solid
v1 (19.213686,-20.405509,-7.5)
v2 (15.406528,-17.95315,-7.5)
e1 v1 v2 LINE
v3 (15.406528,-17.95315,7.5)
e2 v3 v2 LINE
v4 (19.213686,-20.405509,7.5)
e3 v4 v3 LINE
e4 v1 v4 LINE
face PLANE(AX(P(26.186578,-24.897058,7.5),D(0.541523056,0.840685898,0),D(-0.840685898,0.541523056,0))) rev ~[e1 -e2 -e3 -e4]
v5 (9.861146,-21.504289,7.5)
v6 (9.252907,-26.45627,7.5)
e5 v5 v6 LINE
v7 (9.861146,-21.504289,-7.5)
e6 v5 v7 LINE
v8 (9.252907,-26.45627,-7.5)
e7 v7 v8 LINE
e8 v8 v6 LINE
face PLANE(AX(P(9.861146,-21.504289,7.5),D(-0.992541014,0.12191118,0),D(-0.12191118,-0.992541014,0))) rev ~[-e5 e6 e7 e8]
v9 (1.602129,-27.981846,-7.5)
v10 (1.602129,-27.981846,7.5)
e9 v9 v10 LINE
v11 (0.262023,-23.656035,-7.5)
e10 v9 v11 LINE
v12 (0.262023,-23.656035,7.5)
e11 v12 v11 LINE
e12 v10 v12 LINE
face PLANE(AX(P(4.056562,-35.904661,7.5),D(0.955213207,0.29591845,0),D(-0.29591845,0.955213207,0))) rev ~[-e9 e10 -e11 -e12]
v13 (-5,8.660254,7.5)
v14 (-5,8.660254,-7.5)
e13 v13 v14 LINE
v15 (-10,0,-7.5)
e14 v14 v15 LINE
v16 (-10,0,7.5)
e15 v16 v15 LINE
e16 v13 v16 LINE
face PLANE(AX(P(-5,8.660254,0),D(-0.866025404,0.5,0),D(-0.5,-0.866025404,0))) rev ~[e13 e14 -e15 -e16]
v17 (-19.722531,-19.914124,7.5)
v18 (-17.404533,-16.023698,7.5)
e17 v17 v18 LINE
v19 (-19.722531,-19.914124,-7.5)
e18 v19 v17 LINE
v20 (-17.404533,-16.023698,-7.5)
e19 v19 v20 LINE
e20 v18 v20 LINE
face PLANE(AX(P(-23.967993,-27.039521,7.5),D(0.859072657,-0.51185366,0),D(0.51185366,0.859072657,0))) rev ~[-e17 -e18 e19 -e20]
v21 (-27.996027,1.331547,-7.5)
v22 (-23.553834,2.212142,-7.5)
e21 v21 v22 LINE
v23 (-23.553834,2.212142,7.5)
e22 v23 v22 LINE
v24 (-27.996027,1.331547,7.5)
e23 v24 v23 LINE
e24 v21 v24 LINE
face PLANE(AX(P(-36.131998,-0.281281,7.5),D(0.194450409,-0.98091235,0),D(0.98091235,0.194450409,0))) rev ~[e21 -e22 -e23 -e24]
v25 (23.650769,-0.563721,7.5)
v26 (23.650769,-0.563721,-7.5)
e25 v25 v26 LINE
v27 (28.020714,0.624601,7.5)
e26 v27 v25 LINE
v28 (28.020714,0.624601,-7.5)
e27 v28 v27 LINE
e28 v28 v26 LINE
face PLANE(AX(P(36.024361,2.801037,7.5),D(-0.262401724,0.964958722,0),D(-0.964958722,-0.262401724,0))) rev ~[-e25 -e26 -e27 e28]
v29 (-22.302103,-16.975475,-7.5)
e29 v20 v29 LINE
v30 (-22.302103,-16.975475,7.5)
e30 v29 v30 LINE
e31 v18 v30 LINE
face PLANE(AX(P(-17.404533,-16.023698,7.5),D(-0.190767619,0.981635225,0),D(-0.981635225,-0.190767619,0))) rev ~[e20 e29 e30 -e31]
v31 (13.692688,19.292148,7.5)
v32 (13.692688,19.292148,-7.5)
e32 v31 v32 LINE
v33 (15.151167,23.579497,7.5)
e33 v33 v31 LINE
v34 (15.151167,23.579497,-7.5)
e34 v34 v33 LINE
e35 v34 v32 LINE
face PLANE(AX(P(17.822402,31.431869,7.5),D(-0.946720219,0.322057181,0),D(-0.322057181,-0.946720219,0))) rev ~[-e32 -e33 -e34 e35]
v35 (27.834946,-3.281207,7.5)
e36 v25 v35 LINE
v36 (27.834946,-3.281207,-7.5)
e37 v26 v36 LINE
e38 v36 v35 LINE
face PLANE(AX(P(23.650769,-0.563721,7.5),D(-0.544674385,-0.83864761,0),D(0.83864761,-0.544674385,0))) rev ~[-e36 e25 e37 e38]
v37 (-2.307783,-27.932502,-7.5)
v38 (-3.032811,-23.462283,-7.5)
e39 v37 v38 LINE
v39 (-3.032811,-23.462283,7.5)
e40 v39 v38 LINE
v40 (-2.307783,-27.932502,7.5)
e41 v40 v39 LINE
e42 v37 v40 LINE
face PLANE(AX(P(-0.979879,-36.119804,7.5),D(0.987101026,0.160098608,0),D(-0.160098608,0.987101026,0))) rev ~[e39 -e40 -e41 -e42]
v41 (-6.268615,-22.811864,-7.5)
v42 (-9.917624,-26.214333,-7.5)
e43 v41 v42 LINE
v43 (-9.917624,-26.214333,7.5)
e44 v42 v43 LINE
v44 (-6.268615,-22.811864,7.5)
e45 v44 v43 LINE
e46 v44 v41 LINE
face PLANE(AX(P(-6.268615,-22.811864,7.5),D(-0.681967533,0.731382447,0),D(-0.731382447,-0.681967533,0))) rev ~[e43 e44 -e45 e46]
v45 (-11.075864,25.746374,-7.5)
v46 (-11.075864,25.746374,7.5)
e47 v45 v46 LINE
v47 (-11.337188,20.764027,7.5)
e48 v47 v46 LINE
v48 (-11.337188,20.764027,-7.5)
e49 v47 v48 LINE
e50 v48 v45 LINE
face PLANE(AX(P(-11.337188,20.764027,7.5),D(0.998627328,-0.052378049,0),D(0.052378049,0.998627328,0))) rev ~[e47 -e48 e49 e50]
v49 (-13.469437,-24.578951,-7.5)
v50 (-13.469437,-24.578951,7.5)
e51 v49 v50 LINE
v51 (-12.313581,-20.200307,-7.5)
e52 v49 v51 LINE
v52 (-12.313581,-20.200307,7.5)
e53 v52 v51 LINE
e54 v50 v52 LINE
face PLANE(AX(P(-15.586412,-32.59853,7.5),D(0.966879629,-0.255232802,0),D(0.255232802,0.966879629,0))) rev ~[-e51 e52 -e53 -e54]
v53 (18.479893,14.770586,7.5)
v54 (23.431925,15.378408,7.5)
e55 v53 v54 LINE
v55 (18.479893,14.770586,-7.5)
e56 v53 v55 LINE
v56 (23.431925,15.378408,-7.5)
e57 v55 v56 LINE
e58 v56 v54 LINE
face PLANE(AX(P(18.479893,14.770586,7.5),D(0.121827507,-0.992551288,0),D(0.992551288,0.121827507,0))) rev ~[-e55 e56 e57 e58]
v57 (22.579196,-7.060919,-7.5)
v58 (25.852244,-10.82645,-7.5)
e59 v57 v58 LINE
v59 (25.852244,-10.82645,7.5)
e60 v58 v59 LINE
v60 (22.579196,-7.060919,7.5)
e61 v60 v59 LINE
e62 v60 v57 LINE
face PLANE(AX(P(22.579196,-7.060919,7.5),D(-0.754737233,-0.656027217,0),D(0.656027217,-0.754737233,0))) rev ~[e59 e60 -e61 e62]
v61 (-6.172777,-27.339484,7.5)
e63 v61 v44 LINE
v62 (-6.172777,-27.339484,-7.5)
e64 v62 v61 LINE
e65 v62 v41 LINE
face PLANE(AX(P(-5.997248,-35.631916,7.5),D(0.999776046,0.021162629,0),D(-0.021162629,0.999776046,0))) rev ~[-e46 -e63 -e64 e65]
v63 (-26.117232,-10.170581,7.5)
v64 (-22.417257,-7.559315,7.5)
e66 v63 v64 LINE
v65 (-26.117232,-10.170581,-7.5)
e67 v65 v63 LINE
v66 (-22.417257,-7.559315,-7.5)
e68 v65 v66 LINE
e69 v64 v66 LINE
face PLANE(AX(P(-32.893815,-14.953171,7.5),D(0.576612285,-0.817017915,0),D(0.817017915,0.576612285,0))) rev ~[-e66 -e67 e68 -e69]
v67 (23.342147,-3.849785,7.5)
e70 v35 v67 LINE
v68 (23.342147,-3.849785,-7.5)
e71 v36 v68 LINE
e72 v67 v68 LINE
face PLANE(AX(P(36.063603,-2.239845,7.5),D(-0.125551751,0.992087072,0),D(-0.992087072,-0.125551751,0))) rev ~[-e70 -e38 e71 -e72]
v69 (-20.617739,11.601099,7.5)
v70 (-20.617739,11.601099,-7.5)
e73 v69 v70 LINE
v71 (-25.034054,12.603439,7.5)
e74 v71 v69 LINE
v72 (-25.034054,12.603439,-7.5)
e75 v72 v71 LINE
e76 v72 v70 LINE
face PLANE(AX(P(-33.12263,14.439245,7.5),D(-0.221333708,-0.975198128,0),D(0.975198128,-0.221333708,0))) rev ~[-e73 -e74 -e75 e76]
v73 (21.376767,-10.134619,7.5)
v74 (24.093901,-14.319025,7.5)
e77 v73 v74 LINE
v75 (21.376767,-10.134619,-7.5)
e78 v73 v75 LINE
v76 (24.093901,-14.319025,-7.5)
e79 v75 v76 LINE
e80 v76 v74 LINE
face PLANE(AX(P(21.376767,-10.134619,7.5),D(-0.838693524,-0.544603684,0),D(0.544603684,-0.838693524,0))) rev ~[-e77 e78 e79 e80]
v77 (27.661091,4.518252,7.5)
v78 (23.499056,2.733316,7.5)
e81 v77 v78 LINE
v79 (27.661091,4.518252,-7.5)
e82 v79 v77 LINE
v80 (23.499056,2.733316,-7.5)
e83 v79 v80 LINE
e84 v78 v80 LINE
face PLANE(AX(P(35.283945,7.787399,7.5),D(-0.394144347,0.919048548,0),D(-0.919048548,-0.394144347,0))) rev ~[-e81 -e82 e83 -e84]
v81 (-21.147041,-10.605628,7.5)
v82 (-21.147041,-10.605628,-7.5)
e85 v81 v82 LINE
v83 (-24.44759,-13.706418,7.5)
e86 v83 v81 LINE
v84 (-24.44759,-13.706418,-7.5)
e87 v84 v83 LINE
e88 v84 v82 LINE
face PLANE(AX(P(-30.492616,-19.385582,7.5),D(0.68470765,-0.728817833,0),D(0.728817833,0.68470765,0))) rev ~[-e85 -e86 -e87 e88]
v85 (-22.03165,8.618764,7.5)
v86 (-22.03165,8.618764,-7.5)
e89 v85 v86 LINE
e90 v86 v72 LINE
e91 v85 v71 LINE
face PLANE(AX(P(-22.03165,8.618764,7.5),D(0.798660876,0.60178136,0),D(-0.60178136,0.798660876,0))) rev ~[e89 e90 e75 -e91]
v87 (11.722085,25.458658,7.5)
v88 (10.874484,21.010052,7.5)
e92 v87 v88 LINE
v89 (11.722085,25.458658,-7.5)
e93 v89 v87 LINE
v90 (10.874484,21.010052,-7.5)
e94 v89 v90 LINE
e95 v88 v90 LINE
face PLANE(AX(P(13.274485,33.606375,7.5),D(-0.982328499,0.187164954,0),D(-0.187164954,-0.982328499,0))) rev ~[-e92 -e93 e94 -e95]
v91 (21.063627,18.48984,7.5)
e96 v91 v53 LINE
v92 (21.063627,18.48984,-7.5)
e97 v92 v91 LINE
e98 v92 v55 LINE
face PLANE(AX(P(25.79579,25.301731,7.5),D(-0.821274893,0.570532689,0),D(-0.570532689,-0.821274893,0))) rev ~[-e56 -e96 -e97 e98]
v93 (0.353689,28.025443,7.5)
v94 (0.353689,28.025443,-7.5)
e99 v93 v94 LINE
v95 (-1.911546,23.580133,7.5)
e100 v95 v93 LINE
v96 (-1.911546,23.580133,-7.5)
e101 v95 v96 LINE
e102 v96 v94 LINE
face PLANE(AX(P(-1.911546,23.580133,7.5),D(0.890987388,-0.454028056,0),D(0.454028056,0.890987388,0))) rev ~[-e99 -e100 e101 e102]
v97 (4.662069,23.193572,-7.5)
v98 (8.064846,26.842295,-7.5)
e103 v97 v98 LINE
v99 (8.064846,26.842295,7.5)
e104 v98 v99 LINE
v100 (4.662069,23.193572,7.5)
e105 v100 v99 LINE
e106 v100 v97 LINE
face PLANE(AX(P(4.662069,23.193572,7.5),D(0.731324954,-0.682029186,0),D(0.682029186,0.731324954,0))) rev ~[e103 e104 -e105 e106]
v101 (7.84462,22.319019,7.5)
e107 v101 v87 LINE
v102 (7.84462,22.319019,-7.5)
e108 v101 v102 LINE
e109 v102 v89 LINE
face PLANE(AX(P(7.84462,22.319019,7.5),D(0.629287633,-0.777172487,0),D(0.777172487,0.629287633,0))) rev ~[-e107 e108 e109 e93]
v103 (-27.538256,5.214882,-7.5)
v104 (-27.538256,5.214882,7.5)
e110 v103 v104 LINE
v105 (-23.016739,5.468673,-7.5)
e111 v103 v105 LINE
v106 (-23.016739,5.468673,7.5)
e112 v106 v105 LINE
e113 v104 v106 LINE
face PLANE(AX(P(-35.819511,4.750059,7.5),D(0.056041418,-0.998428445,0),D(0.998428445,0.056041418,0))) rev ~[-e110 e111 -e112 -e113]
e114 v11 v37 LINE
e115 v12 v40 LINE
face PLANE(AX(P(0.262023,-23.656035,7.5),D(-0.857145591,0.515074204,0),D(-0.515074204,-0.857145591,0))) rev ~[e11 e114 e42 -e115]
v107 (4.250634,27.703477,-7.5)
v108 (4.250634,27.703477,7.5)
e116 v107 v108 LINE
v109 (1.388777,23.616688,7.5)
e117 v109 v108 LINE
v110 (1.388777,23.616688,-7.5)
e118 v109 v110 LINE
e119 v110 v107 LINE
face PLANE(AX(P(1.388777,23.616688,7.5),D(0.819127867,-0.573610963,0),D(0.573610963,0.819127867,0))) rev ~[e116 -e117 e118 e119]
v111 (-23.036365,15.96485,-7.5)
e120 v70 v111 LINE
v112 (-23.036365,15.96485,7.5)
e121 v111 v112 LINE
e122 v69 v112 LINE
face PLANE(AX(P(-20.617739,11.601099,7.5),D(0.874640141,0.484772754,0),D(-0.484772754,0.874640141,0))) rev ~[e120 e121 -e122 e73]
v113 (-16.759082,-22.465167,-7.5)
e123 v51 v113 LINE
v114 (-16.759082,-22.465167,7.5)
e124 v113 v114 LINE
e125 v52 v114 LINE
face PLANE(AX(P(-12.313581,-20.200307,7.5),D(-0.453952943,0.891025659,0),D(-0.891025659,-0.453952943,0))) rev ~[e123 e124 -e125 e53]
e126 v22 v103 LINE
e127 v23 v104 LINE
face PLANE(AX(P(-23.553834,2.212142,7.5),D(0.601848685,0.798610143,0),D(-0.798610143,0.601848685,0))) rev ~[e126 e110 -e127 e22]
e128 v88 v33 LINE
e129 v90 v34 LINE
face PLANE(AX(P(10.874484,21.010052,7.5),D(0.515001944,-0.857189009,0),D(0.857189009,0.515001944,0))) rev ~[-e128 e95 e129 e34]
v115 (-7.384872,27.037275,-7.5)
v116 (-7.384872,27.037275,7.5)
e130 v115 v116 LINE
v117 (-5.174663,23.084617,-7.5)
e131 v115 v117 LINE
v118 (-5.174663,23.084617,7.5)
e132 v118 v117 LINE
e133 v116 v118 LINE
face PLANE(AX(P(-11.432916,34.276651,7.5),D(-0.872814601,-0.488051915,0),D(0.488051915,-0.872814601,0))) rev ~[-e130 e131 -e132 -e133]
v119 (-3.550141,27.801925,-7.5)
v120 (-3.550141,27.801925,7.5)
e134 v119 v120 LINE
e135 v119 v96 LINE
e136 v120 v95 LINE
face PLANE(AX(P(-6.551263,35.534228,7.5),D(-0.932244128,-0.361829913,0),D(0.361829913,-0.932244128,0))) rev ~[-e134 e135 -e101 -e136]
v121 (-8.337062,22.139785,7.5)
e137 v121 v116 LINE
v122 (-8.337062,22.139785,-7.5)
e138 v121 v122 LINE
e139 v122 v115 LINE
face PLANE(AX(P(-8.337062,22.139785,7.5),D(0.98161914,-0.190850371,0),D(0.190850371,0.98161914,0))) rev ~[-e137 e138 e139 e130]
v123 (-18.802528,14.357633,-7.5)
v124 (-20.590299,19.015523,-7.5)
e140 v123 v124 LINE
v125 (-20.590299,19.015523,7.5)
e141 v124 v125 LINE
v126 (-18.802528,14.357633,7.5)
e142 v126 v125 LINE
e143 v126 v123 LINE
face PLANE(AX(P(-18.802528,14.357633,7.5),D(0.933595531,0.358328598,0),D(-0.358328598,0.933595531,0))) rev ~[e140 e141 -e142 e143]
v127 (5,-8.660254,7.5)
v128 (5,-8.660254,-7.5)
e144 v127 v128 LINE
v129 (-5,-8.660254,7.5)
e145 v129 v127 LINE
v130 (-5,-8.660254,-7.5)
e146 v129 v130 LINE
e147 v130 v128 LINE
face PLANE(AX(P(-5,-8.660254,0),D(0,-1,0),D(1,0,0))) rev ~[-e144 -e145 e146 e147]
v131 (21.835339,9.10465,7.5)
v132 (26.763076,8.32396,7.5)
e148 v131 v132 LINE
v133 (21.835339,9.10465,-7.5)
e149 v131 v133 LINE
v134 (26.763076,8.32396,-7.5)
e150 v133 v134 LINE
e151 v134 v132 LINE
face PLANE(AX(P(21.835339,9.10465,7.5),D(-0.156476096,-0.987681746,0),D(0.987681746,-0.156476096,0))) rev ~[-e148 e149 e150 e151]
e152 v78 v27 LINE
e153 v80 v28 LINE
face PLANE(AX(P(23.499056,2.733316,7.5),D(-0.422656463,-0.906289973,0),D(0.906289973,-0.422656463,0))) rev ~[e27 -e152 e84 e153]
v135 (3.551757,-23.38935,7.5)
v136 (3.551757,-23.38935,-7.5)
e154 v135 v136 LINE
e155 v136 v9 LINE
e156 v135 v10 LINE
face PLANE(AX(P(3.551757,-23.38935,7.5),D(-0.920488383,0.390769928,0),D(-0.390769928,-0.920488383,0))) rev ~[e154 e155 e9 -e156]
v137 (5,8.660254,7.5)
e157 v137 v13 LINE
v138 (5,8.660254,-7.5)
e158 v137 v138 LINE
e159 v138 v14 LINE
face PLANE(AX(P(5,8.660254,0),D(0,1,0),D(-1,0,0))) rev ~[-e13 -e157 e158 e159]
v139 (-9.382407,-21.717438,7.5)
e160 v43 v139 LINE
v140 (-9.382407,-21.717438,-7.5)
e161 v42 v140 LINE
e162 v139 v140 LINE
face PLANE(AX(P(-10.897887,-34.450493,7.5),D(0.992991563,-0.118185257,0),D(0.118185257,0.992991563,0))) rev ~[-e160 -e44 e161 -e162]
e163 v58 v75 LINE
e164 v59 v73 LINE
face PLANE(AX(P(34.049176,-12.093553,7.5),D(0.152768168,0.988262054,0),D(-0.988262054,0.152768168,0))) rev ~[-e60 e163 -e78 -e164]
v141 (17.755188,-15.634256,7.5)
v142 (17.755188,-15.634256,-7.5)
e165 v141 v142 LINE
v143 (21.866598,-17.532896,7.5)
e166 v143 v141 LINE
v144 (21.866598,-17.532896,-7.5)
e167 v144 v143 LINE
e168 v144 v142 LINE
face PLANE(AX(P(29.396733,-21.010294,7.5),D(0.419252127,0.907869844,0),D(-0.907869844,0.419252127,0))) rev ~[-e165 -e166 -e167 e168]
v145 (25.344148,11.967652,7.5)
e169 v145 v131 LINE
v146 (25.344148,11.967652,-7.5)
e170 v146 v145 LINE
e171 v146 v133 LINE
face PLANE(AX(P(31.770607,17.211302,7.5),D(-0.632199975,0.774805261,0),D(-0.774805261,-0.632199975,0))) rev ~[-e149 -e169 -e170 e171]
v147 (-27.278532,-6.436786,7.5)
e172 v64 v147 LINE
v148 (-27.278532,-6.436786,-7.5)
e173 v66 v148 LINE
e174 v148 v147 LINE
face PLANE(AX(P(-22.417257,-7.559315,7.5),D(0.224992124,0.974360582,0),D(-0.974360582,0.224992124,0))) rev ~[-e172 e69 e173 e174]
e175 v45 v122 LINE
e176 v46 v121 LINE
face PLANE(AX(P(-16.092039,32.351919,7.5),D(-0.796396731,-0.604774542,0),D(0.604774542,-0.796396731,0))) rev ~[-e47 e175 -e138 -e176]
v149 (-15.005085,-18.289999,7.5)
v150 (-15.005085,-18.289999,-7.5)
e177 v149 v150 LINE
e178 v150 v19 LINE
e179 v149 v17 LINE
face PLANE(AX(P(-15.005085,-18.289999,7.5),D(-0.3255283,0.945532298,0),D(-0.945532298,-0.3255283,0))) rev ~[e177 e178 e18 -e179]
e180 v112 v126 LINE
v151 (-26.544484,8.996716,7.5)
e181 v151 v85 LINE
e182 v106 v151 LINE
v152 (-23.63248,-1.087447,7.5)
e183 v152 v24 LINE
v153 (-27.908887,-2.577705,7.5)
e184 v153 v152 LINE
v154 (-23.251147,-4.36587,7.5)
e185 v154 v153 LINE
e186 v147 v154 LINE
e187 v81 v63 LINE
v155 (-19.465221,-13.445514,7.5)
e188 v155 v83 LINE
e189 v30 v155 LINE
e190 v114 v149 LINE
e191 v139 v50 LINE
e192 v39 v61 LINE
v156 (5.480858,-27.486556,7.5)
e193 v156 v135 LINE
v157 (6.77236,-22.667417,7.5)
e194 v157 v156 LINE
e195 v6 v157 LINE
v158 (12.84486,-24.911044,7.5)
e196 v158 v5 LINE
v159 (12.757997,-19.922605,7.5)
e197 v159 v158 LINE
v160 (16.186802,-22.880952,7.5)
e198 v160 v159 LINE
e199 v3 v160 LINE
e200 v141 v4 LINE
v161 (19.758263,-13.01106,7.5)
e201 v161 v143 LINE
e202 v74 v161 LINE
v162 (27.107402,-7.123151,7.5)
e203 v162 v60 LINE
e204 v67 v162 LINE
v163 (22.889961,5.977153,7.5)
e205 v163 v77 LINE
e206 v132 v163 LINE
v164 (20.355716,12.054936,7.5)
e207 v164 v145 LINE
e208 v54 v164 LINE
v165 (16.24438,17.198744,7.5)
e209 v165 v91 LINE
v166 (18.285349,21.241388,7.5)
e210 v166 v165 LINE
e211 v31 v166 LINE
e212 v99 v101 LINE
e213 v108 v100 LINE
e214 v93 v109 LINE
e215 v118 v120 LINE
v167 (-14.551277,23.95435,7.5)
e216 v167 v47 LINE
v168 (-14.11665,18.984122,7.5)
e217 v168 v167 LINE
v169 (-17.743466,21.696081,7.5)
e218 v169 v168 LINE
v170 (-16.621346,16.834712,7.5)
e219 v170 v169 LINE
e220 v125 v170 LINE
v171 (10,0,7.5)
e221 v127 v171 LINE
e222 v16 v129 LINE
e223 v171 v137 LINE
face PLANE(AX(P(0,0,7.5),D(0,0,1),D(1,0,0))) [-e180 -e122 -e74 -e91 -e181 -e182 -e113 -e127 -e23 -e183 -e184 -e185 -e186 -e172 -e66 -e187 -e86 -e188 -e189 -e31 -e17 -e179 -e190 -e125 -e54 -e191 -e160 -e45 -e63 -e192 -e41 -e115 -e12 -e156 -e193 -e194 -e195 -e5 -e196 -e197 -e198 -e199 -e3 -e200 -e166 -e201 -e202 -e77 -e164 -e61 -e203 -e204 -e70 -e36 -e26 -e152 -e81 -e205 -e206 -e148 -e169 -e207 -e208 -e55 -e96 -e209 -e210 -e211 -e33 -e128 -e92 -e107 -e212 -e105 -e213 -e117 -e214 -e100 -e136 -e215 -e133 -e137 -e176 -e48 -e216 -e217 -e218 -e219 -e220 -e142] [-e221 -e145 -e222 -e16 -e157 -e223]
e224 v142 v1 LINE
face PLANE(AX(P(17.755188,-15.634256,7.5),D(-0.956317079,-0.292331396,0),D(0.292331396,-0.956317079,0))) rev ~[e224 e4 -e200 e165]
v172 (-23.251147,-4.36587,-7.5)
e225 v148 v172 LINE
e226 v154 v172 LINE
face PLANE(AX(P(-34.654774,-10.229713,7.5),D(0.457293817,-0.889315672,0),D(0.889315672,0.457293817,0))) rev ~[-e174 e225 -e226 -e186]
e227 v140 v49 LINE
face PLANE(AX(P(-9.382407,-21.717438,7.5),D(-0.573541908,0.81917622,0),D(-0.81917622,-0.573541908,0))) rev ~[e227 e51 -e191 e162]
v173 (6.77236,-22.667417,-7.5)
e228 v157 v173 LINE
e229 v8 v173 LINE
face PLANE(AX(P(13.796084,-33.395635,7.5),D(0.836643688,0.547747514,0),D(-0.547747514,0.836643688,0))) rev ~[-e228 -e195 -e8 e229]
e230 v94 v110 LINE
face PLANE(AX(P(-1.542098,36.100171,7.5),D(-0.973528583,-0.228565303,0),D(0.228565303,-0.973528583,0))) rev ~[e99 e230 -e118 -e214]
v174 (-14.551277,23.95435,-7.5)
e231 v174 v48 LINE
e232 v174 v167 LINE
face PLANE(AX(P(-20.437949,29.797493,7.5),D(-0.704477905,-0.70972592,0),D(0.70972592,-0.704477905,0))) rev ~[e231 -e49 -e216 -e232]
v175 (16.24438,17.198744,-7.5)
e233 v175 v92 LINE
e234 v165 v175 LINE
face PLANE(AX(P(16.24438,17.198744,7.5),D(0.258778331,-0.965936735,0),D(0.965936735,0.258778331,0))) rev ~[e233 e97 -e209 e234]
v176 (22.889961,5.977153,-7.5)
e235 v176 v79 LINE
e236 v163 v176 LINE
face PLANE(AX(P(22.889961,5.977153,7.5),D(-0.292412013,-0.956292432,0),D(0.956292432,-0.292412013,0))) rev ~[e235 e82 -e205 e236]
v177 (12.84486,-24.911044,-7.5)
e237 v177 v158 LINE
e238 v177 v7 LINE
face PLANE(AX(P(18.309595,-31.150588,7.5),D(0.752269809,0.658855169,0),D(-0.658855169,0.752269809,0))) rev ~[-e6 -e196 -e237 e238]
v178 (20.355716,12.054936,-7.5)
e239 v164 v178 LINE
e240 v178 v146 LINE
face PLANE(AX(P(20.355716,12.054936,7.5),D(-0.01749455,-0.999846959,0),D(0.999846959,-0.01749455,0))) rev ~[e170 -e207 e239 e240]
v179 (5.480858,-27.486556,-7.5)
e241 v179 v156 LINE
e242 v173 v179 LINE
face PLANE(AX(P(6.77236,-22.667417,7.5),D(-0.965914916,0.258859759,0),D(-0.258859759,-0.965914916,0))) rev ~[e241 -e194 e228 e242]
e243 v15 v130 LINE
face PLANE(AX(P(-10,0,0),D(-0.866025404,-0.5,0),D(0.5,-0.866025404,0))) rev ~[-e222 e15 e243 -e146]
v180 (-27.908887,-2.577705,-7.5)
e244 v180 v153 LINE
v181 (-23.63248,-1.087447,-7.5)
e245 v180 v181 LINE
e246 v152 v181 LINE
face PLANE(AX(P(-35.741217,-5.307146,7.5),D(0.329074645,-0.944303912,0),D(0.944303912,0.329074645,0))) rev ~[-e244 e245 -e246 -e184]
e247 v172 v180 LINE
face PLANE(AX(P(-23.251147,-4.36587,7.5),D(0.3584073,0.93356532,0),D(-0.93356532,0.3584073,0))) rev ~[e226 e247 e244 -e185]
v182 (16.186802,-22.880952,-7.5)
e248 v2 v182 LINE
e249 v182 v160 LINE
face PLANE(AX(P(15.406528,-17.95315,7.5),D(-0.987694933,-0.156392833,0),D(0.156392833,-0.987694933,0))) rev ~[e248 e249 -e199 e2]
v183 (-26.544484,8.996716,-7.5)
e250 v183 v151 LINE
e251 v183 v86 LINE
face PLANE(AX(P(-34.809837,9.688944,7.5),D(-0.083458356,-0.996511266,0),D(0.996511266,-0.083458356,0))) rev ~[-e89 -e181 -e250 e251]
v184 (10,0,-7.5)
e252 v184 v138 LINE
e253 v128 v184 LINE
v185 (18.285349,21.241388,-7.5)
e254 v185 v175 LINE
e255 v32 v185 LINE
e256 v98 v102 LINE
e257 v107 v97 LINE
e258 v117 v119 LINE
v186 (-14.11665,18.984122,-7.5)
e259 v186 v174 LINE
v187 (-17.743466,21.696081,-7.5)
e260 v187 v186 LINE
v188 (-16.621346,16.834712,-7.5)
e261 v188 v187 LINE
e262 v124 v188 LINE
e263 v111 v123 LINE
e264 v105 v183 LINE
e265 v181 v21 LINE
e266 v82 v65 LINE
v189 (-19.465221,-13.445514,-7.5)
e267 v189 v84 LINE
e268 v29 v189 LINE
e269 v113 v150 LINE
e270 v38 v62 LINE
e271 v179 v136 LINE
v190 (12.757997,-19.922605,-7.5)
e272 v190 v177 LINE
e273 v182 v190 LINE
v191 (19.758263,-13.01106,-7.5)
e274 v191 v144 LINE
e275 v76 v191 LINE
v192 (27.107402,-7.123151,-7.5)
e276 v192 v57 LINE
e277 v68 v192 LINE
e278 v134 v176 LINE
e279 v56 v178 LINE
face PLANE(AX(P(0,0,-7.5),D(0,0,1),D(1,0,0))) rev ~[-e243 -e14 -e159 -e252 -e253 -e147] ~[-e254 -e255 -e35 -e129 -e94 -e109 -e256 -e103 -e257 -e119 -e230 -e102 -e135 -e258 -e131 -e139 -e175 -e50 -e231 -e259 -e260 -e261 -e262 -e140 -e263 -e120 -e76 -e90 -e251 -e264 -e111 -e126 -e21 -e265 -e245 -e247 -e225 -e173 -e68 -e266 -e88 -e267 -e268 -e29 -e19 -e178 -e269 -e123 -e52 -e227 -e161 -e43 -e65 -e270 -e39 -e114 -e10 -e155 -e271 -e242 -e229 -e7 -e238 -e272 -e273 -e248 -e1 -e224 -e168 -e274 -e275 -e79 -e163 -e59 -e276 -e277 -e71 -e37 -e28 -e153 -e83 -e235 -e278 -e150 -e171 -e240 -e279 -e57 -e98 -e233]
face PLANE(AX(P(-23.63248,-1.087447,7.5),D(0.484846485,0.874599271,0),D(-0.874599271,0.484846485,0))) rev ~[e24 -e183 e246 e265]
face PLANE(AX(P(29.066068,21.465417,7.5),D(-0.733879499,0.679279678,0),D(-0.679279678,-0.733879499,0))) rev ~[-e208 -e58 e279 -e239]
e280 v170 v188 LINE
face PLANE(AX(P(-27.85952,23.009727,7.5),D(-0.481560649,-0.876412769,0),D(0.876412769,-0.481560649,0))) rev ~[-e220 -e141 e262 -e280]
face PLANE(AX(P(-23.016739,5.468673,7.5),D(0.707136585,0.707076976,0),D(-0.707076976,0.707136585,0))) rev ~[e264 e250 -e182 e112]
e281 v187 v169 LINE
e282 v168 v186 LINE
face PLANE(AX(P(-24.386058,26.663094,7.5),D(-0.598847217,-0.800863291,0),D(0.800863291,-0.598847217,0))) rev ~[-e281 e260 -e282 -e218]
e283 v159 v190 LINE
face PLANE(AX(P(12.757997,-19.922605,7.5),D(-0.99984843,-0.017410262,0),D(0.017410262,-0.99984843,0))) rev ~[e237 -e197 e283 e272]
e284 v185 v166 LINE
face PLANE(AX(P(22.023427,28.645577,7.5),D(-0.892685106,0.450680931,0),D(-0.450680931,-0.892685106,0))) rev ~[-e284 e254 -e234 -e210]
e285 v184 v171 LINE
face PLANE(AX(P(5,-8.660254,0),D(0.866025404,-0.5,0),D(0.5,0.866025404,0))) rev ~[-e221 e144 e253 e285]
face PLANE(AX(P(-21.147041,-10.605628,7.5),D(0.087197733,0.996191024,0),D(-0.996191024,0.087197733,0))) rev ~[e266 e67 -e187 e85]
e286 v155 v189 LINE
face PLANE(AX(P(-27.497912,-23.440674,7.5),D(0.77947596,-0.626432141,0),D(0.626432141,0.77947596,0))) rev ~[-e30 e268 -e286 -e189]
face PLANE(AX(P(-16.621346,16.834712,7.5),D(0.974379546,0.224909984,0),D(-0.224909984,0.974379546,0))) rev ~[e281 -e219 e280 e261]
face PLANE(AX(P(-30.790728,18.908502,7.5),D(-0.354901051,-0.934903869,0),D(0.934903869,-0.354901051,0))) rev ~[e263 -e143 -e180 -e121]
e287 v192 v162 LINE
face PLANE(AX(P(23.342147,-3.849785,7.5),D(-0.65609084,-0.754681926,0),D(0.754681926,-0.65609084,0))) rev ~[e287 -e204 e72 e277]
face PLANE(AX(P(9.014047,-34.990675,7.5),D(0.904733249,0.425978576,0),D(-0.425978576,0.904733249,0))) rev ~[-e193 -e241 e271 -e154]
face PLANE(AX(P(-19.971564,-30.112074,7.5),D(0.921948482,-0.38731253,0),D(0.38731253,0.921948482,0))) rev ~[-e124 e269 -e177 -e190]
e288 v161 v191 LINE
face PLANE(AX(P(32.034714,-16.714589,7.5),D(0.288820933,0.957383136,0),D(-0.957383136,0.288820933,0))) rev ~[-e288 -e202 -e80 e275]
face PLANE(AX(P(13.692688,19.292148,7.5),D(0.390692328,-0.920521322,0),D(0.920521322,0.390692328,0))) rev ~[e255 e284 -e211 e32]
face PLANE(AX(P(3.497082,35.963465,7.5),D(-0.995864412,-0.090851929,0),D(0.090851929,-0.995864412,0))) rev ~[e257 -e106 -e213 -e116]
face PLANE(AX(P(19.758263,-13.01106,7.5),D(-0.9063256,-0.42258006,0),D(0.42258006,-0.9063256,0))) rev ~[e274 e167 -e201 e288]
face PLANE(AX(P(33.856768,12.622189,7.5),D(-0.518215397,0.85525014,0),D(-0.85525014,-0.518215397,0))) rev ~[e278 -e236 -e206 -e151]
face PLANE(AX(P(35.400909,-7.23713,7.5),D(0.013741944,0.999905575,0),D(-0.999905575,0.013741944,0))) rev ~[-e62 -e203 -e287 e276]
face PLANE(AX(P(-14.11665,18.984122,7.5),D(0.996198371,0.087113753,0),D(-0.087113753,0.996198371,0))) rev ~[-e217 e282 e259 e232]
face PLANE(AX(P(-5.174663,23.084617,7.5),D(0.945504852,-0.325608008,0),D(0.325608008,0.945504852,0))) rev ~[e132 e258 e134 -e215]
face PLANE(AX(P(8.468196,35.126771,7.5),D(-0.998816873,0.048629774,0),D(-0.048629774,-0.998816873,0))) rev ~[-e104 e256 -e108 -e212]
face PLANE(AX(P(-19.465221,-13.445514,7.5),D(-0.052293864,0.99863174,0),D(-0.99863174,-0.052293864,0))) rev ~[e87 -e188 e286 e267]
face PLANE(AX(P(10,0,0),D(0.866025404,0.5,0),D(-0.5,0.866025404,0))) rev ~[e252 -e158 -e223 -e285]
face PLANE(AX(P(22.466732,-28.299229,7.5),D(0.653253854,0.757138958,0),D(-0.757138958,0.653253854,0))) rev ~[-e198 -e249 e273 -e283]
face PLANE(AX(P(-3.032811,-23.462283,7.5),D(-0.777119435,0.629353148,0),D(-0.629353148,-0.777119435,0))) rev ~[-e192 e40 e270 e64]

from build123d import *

# Parameters (mm, degrees)
SCHIZZO1_R                   = 34.641016151
ESTRUSIONE_ESTRUSIONE1_DEPTH = 7.5
TAGLIO_ESTRUSIONE1_DEPTH     = 52.23475383
RIPETIZIONECIRCOLARE1_COUNT  = 45


with BuildPart() as part:
    # Schizzo1 → Estrusione-Estrusione1 (new, symmetric)
    with BuildSketch(Plane.XY):
        Circle(SCHIZZO1_R)
        Polygon((10, 0), (5, 8.660254038), (-5, 8.660254038), (-10, 0), (-5, -8.660254038), (5, -8.660254038), align=None, mode=Mode.SUBTRACT)
    extrude(amount=ESTRUSIONE_ESTRUSIONE1_DEPTH, both=True)

    # Schizzo2 → Taglio-Estrusione1 (cut, through all)
    with BuildSketch(Plane.XY.offset(7.5)):
        Polygon((-6.551263351, 35.534227752), (-1.911546114, 23.580132753), (5.348246738, 37.826793916), align=None)
    taglio_estrusione1 = extrude(amount=-TAGLIO_ESTRUSIONE1_DEPTH, mode=Mode.SUBTRACT)

    # RipetizioneCircolare1: Taglio-Estrusione1 ×45 about axis
    ripetizionecircolare1_axis = Axis((0, 0, 0), (0, 0, 1))
    for i in range(1, RIPETIZIONECIRCOLARE1_COUNT):
        add(taglio_estrusione1.rotate(ripetizionecircolare1_axis, i * 360 / RIPETIZIONECIRCOLARE1_COUNT), mode=Mode.SUBTRACT)


solid = part.part
